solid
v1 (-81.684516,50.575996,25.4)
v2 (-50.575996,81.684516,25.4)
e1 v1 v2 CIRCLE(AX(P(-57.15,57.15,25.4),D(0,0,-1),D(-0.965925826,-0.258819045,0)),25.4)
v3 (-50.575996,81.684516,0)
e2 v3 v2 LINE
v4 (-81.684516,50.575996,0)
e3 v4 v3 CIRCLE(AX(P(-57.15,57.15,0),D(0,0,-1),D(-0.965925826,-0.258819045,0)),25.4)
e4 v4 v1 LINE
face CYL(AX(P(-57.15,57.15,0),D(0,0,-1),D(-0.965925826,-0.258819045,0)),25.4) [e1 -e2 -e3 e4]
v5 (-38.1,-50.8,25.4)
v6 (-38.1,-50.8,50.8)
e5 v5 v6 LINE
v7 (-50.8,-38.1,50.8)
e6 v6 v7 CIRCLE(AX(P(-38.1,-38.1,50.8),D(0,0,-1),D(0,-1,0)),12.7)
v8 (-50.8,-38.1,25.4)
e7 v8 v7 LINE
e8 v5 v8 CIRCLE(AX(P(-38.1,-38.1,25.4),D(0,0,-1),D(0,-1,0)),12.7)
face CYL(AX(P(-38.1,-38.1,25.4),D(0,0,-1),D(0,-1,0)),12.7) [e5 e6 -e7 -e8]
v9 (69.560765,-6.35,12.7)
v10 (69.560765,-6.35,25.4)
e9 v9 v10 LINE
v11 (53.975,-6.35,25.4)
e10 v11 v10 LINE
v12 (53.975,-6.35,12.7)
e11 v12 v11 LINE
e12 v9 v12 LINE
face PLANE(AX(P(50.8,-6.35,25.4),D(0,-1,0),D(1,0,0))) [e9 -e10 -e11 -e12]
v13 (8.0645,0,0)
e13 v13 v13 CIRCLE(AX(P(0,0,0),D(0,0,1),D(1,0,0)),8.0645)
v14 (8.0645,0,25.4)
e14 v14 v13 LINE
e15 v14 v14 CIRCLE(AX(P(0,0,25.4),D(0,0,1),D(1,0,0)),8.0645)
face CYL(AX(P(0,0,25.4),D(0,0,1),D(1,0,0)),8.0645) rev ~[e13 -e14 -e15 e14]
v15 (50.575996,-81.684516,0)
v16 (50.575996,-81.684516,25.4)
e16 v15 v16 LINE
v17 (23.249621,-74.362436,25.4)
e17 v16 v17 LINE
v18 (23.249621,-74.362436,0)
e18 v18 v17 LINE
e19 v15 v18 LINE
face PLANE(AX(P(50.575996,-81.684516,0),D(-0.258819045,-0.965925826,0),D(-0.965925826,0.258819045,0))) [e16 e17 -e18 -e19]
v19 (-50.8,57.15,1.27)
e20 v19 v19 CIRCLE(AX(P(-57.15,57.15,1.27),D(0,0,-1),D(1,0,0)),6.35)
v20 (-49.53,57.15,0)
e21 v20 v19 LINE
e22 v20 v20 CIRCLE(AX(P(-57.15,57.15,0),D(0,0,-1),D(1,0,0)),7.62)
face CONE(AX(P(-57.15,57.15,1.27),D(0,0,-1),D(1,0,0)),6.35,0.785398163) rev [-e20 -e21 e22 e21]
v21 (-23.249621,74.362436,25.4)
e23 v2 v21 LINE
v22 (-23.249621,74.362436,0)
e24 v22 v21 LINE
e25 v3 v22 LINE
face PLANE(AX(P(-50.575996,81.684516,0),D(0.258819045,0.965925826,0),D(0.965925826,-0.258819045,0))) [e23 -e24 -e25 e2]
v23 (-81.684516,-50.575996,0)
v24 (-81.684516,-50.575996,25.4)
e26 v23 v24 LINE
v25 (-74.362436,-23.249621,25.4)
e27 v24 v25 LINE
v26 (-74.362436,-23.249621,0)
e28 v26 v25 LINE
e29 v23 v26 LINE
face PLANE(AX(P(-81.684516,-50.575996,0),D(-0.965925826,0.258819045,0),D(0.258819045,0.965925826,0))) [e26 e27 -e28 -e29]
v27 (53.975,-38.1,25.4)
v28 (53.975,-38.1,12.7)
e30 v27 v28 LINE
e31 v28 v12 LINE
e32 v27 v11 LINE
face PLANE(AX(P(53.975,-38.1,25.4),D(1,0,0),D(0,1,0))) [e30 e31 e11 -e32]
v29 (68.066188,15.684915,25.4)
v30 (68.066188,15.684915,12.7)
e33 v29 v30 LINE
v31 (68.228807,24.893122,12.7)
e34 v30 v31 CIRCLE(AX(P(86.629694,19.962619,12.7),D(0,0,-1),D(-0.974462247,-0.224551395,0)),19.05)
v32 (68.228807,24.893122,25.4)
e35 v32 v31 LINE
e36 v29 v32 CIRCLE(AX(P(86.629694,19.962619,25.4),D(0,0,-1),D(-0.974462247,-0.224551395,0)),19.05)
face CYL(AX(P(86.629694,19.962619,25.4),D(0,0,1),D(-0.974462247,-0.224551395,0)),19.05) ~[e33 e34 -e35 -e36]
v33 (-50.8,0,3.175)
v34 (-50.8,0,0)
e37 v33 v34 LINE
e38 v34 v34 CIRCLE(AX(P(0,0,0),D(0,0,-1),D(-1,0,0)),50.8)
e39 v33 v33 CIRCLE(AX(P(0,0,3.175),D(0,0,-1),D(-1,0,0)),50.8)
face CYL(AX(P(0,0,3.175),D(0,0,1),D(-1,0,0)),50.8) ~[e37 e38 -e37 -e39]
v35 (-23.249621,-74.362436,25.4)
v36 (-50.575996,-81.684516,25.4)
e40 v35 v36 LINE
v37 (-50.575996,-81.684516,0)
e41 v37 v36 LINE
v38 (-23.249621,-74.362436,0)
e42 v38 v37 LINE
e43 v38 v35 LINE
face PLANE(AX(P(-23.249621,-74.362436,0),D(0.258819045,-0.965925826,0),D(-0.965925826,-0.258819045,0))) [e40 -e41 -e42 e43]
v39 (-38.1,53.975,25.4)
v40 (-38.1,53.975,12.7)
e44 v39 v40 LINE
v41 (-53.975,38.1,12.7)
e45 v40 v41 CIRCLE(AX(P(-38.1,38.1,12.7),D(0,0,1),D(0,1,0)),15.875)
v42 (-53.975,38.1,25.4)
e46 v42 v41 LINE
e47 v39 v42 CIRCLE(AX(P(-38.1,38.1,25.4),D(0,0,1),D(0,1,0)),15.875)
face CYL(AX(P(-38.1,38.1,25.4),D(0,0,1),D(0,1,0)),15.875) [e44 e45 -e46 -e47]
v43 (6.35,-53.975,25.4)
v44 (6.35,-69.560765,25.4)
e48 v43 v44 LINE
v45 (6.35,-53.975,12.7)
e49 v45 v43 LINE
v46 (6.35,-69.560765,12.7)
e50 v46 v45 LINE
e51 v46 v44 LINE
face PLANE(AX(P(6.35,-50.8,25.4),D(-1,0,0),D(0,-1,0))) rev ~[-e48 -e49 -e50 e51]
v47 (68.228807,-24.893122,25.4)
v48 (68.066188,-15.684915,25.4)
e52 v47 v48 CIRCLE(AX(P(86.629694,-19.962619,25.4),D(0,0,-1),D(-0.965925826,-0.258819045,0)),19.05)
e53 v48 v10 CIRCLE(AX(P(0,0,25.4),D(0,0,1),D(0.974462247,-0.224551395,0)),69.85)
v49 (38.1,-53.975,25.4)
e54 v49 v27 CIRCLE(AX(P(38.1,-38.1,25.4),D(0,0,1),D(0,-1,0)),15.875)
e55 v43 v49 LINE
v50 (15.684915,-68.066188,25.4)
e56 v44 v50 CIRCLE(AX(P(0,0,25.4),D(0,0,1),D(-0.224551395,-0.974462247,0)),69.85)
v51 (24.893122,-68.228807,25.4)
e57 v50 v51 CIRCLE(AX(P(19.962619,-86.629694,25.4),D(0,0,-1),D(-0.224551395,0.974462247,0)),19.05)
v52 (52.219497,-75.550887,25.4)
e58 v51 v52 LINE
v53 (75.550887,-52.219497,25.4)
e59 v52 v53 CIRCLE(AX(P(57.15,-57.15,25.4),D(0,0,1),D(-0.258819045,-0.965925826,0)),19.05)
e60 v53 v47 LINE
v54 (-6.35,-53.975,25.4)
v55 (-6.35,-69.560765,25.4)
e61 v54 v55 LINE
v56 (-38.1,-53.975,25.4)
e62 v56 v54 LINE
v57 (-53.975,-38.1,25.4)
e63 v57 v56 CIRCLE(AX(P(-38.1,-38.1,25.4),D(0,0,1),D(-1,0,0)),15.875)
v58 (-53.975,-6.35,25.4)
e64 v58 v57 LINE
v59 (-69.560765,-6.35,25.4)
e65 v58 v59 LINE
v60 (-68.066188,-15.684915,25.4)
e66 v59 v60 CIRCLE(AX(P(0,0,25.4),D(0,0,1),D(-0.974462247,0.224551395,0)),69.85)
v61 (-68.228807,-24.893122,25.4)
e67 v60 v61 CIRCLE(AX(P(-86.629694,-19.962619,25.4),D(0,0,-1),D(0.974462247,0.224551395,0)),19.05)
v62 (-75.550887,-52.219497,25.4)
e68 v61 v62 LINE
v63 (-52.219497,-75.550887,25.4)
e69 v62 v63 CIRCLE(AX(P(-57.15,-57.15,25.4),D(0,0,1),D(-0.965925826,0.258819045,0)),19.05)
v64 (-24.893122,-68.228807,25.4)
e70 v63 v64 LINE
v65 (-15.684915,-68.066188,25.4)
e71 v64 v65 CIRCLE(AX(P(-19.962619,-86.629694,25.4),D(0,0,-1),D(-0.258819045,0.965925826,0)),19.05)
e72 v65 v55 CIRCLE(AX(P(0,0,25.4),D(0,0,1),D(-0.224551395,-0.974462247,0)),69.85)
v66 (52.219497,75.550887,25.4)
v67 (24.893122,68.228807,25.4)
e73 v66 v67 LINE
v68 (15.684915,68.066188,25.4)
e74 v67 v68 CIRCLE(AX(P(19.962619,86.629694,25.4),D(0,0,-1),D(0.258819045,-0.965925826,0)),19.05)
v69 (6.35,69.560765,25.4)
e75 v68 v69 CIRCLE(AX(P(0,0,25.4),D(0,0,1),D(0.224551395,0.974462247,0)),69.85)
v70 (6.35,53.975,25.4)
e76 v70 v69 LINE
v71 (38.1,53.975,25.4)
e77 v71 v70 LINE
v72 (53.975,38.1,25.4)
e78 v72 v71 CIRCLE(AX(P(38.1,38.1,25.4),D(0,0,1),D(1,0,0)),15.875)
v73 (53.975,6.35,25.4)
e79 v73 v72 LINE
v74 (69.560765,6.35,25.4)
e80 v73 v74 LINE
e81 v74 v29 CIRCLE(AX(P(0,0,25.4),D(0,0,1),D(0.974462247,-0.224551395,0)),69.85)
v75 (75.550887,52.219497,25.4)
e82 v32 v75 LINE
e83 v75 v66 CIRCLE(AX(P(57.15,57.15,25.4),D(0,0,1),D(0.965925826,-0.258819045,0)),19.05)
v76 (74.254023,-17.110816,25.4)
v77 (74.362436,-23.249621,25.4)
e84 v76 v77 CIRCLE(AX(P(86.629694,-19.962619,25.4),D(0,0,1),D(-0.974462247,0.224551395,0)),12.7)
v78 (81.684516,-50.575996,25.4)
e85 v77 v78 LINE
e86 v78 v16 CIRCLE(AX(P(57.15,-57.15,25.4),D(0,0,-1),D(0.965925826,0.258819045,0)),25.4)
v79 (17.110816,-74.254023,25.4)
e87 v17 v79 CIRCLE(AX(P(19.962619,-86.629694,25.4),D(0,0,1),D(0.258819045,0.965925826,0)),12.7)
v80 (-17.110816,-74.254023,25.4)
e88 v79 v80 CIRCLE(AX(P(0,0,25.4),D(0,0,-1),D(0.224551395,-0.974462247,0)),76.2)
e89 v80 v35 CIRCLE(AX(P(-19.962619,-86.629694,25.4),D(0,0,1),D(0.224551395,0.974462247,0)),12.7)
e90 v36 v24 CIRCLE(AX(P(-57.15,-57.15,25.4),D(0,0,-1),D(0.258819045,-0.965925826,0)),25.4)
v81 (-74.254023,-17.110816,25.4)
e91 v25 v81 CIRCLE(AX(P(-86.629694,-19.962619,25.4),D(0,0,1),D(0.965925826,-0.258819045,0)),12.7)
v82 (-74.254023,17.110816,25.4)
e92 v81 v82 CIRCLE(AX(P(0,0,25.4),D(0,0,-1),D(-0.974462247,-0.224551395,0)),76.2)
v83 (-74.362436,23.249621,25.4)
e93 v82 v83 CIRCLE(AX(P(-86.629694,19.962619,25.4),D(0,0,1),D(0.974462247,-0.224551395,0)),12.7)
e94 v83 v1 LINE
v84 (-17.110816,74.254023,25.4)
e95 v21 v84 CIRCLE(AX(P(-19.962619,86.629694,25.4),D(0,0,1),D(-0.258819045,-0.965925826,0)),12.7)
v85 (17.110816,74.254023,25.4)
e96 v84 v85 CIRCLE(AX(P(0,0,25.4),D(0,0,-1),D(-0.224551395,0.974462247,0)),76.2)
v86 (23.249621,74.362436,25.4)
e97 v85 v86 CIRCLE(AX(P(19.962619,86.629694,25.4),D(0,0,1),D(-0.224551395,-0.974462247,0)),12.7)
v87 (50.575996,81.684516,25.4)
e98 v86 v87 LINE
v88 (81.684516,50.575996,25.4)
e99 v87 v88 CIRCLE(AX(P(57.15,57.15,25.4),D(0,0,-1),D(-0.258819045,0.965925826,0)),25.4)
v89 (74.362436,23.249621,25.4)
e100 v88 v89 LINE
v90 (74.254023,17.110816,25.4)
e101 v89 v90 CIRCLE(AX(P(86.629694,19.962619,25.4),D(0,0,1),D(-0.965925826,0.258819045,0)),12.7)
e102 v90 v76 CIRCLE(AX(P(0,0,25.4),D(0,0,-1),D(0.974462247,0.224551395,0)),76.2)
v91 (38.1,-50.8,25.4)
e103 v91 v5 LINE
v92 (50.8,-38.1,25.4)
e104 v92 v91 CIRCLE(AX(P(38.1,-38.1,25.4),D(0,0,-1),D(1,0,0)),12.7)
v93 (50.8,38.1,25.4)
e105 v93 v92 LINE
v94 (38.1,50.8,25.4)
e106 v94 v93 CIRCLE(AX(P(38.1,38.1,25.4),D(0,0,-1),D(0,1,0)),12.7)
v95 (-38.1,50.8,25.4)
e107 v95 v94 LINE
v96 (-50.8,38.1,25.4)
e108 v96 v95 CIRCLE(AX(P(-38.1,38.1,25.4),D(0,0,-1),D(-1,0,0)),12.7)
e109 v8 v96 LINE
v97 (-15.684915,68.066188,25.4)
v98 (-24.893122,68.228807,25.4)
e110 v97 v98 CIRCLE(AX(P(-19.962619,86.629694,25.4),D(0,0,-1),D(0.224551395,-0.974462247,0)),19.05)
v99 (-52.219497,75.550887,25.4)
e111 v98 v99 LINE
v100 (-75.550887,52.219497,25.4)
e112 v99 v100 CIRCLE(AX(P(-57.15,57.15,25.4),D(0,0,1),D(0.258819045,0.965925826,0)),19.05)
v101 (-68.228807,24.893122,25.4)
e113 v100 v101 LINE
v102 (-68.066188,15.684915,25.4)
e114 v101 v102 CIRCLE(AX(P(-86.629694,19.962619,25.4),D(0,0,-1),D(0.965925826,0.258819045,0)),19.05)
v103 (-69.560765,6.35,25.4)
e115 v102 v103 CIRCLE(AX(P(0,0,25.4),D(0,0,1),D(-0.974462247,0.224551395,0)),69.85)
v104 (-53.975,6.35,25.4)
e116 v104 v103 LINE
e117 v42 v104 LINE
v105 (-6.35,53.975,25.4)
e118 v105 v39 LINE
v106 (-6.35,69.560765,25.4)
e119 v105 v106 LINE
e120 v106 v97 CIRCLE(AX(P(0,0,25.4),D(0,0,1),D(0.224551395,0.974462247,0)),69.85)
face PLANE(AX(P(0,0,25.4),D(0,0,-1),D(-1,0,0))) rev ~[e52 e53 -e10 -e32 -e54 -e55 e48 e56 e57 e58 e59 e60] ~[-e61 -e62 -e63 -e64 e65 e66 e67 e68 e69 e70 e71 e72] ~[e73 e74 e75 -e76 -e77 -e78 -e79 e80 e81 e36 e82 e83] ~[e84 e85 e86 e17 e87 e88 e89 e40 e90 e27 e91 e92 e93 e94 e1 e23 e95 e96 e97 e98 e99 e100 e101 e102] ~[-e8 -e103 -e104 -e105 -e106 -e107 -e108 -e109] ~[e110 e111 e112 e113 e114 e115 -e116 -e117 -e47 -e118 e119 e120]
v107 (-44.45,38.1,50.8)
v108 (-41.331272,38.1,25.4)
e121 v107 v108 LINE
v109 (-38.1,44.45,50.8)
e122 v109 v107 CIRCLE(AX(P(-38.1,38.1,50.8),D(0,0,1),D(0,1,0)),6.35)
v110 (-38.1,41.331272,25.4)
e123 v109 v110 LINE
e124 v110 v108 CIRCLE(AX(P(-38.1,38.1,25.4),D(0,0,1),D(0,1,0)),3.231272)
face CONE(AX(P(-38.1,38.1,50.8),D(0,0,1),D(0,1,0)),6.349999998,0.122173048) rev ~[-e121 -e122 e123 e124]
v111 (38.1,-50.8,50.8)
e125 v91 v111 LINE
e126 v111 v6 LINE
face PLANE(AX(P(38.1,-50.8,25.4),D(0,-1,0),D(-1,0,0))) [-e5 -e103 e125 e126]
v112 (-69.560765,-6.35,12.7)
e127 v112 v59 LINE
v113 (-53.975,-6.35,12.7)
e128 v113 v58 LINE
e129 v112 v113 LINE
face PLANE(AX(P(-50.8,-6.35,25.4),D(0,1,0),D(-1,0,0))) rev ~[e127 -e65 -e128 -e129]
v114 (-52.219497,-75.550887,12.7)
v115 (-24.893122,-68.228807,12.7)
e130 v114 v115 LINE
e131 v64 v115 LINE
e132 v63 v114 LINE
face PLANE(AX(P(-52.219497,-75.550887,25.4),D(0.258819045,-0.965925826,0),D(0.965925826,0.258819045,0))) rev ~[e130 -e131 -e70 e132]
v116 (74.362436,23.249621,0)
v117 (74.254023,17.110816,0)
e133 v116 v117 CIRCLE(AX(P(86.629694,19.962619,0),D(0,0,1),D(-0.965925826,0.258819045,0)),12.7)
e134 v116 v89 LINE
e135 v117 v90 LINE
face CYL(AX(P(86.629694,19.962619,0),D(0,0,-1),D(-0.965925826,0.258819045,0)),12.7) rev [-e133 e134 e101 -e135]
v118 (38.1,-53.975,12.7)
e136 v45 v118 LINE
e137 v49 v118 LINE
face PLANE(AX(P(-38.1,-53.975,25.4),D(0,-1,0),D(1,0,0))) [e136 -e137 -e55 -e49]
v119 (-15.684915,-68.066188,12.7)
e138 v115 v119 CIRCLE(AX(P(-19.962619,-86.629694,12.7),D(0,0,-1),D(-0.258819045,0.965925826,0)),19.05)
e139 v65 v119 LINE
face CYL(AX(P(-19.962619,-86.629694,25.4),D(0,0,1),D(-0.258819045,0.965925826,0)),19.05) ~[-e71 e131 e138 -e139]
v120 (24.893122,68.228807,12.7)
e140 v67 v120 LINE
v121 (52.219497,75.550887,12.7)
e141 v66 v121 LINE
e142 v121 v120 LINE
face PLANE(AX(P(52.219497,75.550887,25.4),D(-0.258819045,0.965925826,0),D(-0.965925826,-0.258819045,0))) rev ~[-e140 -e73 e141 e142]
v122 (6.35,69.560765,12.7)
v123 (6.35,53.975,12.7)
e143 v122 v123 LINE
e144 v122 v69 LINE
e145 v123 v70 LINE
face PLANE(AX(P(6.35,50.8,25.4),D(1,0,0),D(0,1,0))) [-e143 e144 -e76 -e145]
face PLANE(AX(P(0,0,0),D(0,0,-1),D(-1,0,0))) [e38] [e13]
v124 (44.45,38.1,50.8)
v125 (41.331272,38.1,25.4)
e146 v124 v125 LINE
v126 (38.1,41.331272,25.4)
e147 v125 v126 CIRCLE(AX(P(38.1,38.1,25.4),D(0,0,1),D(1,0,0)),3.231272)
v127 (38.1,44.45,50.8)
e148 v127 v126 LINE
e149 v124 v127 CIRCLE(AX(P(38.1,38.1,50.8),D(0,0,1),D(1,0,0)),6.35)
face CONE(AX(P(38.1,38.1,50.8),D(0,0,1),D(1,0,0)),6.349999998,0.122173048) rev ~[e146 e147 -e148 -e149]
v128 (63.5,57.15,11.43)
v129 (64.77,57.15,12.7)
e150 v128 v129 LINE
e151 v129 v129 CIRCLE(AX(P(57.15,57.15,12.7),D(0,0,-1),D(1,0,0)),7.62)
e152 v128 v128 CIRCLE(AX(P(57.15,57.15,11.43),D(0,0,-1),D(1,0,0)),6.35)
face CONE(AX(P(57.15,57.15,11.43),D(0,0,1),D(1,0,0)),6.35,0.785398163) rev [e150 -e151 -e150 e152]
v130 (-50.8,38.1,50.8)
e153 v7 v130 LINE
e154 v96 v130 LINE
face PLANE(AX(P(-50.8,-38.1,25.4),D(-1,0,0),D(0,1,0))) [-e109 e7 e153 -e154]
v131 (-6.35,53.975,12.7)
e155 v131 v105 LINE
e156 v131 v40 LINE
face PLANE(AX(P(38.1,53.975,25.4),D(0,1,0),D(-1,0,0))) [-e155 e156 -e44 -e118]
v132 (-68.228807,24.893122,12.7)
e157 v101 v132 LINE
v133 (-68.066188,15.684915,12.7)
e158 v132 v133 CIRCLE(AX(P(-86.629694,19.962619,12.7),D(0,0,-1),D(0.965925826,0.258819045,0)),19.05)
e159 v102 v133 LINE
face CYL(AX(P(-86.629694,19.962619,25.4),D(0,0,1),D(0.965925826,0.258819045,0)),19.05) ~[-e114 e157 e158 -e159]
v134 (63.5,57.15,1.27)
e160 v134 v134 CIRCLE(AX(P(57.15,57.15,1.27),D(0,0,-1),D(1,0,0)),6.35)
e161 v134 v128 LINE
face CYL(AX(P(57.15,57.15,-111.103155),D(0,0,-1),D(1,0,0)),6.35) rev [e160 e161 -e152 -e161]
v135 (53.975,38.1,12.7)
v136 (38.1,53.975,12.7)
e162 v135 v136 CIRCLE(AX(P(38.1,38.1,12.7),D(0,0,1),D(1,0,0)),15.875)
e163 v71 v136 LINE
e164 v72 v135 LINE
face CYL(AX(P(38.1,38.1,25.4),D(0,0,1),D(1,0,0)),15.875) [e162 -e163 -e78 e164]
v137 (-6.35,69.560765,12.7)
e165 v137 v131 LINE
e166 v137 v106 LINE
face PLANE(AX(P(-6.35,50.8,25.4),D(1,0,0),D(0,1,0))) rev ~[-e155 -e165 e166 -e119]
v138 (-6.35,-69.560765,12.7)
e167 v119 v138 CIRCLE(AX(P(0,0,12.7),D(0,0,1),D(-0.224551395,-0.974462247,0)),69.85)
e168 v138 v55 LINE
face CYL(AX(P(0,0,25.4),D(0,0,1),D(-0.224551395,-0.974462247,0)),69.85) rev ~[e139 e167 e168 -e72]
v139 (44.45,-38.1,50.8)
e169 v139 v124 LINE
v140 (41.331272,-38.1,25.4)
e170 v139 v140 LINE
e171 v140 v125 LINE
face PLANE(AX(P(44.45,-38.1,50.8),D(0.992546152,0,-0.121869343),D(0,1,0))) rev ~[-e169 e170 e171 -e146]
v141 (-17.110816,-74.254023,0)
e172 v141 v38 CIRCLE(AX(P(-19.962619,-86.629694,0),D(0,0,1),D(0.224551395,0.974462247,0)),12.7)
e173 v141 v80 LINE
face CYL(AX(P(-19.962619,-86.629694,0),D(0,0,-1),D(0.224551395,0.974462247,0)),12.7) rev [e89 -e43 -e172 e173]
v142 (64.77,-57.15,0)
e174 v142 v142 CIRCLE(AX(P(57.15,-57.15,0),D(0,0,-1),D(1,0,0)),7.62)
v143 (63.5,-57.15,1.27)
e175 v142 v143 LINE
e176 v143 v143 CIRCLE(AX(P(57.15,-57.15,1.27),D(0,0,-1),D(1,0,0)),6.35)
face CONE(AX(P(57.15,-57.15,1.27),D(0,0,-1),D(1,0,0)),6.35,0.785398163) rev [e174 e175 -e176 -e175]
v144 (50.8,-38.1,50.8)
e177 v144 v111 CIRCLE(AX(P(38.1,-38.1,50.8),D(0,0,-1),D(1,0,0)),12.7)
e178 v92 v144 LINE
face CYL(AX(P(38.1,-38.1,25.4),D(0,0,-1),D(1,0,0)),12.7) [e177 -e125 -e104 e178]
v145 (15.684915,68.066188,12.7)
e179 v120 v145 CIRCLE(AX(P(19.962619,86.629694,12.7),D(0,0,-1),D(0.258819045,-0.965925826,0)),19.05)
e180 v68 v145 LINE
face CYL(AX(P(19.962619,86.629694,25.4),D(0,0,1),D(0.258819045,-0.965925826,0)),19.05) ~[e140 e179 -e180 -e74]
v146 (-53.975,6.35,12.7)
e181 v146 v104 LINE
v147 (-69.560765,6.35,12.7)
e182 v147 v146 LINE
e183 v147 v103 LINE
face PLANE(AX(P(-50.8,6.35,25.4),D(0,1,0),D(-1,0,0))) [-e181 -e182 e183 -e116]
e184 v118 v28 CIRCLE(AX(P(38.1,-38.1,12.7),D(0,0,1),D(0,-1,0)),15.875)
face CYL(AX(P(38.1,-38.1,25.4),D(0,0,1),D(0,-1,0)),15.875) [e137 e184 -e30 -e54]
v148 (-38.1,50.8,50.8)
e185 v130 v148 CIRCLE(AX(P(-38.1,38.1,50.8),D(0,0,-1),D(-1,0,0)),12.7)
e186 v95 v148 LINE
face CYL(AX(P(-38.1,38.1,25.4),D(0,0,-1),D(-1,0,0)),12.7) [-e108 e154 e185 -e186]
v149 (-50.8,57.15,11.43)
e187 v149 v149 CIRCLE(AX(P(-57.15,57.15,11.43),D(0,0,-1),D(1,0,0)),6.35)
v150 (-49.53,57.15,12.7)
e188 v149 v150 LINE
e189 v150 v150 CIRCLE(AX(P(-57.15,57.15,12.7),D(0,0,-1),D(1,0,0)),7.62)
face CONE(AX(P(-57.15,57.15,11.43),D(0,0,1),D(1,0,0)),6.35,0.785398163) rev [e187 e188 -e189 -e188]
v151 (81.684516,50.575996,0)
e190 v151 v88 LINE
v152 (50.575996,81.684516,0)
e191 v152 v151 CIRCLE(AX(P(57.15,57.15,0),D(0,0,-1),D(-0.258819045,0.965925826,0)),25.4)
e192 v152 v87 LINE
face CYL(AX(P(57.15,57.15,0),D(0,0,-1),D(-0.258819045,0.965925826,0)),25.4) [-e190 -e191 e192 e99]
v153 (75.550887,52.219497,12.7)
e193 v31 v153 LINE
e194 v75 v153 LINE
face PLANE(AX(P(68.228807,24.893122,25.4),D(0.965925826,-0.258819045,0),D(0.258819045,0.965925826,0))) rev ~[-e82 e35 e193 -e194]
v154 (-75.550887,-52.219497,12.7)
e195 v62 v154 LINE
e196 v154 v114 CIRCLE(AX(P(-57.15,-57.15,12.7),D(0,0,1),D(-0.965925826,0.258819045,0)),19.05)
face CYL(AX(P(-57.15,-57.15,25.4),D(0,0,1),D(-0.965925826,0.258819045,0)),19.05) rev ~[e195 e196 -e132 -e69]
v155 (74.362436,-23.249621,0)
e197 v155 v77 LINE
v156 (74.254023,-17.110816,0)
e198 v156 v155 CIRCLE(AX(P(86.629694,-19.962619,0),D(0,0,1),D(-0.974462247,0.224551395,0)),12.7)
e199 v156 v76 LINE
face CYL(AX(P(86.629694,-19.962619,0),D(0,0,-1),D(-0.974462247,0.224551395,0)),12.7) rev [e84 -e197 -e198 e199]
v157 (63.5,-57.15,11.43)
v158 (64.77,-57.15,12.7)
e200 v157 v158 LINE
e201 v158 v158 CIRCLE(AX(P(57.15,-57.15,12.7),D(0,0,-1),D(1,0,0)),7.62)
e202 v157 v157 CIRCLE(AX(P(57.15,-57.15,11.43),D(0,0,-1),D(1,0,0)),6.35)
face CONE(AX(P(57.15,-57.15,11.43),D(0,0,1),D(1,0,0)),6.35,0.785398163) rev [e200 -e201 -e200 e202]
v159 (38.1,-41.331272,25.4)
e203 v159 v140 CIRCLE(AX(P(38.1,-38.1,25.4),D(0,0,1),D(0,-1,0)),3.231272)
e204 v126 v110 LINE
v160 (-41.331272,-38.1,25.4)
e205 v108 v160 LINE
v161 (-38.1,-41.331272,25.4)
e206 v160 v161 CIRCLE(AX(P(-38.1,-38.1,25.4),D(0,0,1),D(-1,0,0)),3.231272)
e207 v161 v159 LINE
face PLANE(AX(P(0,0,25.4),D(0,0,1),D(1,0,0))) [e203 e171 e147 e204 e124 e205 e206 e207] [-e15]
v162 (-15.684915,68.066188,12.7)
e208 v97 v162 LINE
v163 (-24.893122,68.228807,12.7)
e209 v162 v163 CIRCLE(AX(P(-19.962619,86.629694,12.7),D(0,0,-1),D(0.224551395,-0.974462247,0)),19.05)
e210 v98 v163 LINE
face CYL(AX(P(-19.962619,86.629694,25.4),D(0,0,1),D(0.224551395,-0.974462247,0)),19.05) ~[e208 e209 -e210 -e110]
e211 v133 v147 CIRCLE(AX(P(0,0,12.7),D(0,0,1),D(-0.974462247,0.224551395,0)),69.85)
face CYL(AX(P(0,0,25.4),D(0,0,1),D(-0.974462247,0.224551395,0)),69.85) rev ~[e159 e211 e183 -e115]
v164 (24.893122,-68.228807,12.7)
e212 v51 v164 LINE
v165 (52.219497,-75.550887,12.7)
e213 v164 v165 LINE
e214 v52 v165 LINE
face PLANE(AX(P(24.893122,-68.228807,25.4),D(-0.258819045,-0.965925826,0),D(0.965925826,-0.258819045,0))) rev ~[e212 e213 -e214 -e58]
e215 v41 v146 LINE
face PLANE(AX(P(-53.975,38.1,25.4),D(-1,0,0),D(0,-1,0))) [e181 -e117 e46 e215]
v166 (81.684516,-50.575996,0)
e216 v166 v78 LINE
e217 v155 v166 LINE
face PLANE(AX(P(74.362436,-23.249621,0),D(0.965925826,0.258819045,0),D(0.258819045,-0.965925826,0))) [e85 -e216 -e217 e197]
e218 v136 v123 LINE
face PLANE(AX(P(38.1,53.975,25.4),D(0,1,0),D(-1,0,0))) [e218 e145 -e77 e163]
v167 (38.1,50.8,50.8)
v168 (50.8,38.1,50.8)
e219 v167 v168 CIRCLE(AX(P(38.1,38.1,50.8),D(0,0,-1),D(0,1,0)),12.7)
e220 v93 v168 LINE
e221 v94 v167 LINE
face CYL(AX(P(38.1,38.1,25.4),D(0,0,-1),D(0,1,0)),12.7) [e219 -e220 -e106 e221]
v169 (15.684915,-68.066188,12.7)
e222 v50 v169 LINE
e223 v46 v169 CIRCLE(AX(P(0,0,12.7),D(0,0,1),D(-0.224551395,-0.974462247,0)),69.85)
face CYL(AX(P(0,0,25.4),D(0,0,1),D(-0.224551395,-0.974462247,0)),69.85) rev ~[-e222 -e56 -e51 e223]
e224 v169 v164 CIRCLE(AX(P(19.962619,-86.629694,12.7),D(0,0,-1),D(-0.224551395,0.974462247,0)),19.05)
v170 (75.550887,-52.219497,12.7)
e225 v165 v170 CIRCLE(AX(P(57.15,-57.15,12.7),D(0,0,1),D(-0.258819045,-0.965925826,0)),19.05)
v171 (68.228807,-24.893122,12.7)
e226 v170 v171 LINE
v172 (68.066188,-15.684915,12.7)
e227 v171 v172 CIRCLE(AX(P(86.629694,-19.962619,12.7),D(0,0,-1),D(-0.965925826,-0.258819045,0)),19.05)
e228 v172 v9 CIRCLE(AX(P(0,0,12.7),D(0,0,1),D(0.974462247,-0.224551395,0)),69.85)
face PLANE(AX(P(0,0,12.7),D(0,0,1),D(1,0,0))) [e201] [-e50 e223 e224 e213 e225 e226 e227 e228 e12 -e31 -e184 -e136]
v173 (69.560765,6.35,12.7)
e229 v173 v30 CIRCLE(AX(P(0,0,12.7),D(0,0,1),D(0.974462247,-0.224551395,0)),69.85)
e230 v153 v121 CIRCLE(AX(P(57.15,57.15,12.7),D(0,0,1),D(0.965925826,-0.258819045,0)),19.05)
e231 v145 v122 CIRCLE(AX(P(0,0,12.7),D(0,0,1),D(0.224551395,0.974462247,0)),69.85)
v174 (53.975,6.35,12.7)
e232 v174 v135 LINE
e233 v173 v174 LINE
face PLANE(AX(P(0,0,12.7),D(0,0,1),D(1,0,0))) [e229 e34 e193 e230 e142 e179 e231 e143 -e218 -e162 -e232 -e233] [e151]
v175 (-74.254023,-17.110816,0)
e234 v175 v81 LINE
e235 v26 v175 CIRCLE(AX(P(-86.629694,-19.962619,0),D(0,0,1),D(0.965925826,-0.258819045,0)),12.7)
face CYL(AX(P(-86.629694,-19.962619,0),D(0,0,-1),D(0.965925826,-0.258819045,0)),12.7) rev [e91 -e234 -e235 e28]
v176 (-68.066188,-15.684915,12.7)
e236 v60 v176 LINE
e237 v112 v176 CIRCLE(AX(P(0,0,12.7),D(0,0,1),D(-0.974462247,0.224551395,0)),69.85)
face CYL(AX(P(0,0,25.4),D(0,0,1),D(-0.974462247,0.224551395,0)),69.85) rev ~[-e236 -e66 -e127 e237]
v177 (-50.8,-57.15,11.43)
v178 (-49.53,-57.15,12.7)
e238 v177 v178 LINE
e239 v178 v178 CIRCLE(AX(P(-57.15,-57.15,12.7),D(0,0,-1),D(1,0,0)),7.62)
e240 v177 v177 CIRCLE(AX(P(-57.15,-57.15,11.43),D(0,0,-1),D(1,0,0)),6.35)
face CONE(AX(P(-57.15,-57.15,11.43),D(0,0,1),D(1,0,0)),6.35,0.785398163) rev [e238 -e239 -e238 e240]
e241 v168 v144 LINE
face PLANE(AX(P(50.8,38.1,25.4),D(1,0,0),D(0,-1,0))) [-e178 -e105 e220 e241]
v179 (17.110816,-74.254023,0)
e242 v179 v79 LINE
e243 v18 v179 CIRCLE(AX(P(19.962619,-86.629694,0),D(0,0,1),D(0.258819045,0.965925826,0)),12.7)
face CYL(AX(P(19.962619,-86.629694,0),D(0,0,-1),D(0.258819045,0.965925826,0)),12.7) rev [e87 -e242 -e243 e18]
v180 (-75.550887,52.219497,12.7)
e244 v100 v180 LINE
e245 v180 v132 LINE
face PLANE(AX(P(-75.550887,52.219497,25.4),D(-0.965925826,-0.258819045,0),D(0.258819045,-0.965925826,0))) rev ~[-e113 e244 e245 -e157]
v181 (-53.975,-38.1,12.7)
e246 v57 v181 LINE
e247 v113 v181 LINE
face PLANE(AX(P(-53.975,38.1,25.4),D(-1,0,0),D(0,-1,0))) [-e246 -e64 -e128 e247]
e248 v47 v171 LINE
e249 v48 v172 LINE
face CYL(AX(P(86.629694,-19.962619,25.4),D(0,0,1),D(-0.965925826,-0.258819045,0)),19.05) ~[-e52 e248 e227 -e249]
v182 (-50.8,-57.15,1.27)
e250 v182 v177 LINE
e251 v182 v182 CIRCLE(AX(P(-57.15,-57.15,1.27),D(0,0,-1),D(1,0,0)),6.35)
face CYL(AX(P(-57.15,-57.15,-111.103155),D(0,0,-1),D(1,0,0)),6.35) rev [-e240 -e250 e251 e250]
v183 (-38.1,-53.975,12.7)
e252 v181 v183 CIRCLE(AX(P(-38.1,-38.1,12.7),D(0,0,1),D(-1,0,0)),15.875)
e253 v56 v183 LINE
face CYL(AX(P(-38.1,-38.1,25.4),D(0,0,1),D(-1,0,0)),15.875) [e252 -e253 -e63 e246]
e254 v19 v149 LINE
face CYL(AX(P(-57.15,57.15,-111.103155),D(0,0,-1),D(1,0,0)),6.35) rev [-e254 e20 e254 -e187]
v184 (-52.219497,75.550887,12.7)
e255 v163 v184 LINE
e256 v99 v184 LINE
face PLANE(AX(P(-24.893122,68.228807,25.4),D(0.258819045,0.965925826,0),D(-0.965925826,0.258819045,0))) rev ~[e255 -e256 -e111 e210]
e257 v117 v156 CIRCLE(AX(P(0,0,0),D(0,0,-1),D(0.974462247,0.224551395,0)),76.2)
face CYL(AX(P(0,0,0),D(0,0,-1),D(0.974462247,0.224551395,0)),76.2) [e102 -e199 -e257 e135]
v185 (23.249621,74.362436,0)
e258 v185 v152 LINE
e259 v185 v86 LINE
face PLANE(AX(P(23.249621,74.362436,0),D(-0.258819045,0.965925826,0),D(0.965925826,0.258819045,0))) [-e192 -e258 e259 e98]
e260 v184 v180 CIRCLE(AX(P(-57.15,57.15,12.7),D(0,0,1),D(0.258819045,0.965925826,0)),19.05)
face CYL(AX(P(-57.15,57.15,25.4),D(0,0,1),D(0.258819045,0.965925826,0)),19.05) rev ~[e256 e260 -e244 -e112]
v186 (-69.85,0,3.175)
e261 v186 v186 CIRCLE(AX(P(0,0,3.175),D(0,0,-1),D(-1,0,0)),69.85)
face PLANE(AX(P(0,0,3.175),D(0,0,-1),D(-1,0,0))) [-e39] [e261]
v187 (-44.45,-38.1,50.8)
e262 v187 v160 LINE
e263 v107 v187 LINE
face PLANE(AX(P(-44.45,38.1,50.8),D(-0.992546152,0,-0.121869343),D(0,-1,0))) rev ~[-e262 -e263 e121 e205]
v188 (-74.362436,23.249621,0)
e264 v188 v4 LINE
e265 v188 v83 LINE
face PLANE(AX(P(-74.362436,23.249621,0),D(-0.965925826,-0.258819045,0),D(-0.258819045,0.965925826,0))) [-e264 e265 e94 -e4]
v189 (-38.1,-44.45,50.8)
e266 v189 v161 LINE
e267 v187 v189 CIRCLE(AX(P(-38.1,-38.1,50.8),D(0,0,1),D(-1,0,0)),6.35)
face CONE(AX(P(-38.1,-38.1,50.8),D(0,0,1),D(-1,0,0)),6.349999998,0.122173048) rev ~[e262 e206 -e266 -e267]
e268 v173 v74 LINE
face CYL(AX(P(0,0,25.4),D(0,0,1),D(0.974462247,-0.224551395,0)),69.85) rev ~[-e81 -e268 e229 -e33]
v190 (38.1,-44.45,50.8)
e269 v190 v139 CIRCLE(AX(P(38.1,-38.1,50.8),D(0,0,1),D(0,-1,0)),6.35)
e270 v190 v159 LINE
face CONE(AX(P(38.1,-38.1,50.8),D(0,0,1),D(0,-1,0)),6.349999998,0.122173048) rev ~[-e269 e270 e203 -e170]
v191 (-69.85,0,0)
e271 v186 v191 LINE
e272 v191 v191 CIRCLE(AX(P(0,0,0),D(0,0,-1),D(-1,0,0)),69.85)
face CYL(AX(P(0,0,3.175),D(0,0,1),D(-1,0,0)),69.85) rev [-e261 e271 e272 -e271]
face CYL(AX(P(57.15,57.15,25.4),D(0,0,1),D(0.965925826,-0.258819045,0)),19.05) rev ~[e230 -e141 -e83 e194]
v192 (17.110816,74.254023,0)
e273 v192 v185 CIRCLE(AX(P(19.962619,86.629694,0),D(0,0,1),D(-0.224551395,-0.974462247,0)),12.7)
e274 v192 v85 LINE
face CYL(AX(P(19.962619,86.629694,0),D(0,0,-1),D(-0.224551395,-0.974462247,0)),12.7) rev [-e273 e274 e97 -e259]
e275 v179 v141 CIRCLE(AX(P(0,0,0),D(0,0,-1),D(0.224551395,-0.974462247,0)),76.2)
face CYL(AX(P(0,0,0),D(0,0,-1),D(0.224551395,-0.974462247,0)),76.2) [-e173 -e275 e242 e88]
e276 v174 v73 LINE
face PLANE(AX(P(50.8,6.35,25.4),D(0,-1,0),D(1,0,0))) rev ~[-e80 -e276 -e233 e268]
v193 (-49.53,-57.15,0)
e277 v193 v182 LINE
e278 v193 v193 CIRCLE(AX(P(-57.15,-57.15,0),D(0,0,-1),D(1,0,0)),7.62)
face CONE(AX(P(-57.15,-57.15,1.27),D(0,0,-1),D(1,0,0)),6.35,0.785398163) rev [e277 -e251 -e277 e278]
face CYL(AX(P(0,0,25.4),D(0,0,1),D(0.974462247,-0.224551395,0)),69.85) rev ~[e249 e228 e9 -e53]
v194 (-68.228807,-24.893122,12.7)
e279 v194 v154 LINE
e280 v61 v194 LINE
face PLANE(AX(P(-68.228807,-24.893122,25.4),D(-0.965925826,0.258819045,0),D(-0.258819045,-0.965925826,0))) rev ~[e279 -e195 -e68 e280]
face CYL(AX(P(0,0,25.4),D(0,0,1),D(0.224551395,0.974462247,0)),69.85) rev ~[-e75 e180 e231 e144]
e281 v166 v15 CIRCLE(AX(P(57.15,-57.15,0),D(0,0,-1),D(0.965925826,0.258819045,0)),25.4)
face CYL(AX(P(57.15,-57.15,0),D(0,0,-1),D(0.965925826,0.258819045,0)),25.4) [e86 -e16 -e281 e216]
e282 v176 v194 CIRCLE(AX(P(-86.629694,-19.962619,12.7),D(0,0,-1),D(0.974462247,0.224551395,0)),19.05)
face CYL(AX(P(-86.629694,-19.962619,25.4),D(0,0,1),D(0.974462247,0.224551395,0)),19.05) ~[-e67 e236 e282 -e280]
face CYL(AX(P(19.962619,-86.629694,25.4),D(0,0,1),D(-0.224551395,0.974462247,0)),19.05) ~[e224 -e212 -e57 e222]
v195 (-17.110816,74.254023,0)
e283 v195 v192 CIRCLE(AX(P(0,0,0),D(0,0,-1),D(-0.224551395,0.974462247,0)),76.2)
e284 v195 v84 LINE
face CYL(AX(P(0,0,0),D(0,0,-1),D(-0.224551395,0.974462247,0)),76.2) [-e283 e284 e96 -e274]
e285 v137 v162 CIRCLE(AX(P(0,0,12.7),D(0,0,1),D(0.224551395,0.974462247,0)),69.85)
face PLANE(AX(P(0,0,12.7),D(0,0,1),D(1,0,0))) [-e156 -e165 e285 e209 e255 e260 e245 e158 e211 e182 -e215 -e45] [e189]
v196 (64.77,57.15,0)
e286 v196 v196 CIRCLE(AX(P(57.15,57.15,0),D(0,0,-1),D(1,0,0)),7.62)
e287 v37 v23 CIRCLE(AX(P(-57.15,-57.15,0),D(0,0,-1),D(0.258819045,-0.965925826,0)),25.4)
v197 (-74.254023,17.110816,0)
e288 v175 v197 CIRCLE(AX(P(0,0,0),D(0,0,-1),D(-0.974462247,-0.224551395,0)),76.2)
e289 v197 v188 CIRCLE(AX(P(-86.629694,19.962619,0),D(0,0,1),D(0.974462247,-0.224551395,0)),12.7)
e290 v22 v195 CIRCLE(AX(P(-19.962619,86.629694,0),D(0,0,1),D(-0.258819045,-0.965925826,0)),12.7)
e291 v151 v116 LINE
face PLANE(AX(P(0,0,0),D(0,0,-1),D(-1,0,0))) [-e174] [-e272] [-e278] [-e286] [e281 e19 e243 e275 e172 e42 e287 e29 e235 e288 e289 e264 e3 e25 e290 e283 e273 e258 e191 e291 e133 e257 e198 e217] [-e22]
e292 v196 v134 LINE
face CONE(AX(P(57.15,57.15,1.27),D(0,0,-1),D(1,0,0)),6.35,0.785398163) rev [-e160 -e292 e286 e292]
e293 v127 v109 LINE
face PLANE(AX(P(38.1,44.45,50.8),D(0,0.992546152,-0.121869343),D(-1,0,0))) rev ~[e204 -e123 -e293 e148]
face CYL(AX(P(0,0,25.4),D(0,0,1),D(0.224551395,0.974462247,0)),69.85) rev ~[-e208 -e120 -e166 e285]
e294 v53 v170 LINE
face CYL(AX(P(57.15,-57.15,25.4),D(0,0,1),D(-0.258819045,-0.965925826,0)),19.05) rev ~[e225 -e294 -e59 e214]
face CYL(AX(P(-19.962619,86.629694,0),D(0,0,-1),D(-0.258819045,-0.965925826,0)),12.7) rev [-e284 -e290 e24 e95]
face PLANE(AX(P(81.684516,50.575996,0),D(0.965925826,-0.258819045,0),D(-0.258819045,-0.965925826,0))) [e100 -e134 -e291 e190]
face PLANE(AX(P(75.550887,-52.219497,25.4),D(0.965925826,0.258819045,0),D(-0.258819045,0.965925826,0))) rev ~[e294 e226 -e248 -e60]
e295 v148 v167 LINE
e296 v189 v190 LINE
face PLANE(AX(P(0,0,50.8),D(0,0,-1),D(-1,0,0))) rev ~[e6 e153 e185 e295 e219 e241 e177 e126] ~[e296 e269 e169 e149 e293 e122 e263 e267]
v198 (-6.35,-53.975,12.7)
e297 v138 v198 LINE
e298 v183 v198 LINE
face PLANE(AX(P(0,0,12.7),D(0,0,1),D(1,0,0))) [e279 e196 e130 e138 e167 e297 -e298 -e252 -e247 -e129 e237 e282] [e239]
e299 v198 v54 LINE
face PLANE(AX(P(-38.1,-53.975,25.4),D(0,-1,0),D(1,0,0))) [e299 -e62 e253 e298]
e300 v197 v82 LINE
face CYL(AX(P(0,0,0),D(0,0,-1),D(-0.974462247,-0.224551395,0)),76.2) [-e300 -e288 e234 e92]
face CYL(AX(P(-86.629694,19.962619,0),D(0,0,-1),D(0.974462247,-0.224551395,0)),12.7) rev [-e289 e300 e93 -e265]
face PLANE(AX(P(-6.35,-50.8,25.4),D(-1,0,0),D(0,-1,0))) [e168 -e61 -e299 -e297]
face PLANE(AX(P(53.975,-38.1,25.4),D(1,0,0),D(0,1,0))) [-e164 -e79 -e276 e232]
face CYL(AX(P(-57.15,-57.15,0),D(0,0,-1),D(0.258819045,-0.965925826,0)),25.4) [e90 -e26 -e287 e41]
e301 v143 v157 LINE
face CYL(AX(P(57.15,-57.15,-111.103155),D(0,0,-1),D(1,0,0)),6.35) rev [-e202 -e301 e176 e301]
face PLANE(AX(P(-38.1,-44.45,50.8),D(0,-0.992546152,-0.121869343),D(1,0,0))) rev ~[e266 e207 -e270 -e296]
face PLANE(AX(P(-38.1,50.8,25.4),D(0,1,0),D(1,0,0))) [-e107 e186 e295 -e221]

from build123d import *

# Parameters (mm, degrees)
BASE_EXTRUDE_DEPTH      = 25.4
BOSS_EXTRUDE1_DEPTH     = 25.4
CUT_EXTRUDE1_DEPTH      = 25.4
CUT_EXTRUDE1_DRAFT      = -7
CUT_EXTRUDE3_DEPTH      = 12.7
BOSS_EXTRUDE2_REACH     = 121.475
SKETCH6_W               = 25.134955719
SKETCH6_H               = 12.7
CIRPATTERN1_COUNT       = 4
CUT_EXTRUDE4_DEPTH      = 12.7
CUT_EXTRUDE4_DEPTH_BACK = 123.803155497
SKETCH7_R               = 6.35
CHAMFER1_SIZE           = 1.27
CUT_EXTRUDE5_START      = -3.175
SKETCH17_R              = 69.85
SKETCH17_R_2            = 50.8
CUT_EXTRUDE5_DEPTH      = 3.175
SKETCH28_R              = 8.0645
CUT_EXTRUDE6_DEPTH      = 120.474537036


with BuildPart() as part:
    # Sketch1 → Base-Extrude (new body)
    with BuildSketch(Plane.XY):
        with BuildLine():
            Line((-50.575996254, 81.684515988), (-23.24962088, 74.362435774))
            ThreePointArc((-23.24962088, 74.362435774), (-20.186868638, 73.931673761), (-17.110816292, 74.25402323))
            ThreePointArc((-17.110816292, 74.25402323), (0, 76.2), (17.110816292, 74.25402323))
            ThreePointArc((17.110816292, 74.25402323), (20.186868638, 73.931673761), (23.24962088, 74.362435774))
            Line((23.24962088, 74.362435774), (50.575996254, 81.684515988))
            ThreePointArc((50.575996254, 81.684515988), (75.110512242, 75.110512242), (81.684515988, 50.575996254))
            Line((81.684515988, 50.575996254), (74.362435774, 23.24962088))
            ThreePointArc((74.362435774, 23.24962088), (73.931673761, 20.186868638), (74.25402323, 17.110816292))
            ThreePointArc((74.25402323, 17.110816292), (76.2, 0), (74.25402323, -17.110816292))
            ThreePointArc((74.25402323, -17.110816292), (73.931673761, -20.186868638), (74.362435774, -23.24962088))
            Line((74.362435774, -23.24962088), (81.684515988, -50.575996254))
            ThreePointArc((81.684515988, -50.575996254), (75.110512242, -75.110512242), (50.575996254, -81.684515988))
            Line((50.575996254, -81.684515988), (23.24962088, -74.362435774))
            ThreePointArc((23.24962088, -74.362435774), (20.186868638, -73.931673761), (17.110816292, -74.25402323))
            ThreePointArc((17.110816292, -74.25402323), (0, -76.2), (-17.110816292, -74.25402323))
            ThreePointArc((-17.110816292, -74.25402323), (-20.186868638, -73.931673761), (-23.24962088, -74.362435774))
            Line((-23.24962088, -74.362435774), (-50.575996254, -81.684515988))
            ThreePointArc((-50.575996254, -81.684515988), (-75.110512242, -75.110512242), (-81.684515988, -50.575996254))
            Line((-81.684515988, -50.575996254), (-74.362435774, -23.24962088))
            ThreePointArc((-74.362435774, -23.24962088), (-73.931673761, -20.186868638), (-74.25402323, -17.110816292))
            ThreePointArc((-74.25402323, -17.110816292), (-76.2, 0), (-74.25402323, 17.110816292))
            ThreePointArc((-74.25402323, 17.110816292), (-73.931673761, 20.186868638), (-74.362435774, 23.24962088))
            Line((-74.362435774, 23.24962088), (-81.684515988, 50.575996254))
            ThreePointArc((-81.684515988, 50.575996254), (-75.110512242, 75.110512242), (-50.575996254, 81.684515988))
        make_face()
    extrude(amount=BASE_EXTRUDE_DEPTH)

    # Sketch2 → Boss-Extrude1 (add)
    with BuildSketch(Plane.XY.offset(25.4)):
        with BuildLine():
            Line((-38.1, 50.8), (38.1, 50.8))
            ThreePointArc((38.1, 50.8), (47.080256121, 47.080256121), (50.8, 38.1))
            Line((50.8, 38.1), (50.8, -38.1))
            ThreePointArc((50.8, -38.1), (47.080256121, -47.080256121), (38.1, -50.8))
            Line((38.1, -50.8), (-38.1, -50.8))
            ThreePointArc((-38.1, -50.8), (-47.080256121, -47.080256121), (-50.8, -38.1))
            Line((-50.8, -38.1), (-50.8, 38.1))
            ThreePointArc((-50.8, 38.1), (-47.080256121, 47.080256121), (-38.1, 50.8))
        make_face()
    extrude(amount=BOSS_EXTRUDE1_DEPTH)


with BuildPart() as cut_extrude1_tool:
    # Sketch3 → Cut-Extrude1 (with draft: the straight prism first)
    with BuildSketch(Plane.XY.offset(50.8)):
        with BuildLine():
            Line((-44.45, 38.1), (-44.45, -38.1))
            ThreePointArc((-44.45, -38.1), (-42.590128061, -42.590128061), (-38.1, -44.45))
            Line((-38.1, -44.45), (38.1, -44.45))
            ThreePointArc((38.1, -44.45), (42.590128061, -42.590128061), (44.45, -38.1))
            Line((44.45, -38.1), (44.45, 38.1))
            ThreePointArc((44.45, 38.1), (42.590128061, 42.590128061), (38.1, 44.45))
            Line((38.1, 44.45), (-38.1, 44.45))
            ThreePointArc((-38.1, 44.45), (-42.590128061, 42.590128061), (-44.45, 38.1))
        make_face()
    extrude(amount=-CUT_EXTRUDE1_DEPTH)
    # Cut-Extrude1: the draft: its side faces are tilted about the plane it starts from
    cut_extrude1_sides = [cut_extrude1_tool.faces().sort_by_distance(p)[0] for p in [
        (-42.590128061, 42.590128061, 38.1),
        (-44.45, 0, 38.1),
        (-42.590128061, -42.590128061, 38.1),
        (0, -44.45, 38.1),
        (42.590128061, -42.590128061, 38.1),
        (44.45, 0, 38.1),
        (42.590128061, 42.590128061, 38.1),
        (0, 44.45, 38.1),
    ]]
    draft(cut_extrude1_sides, Plane.XY.offset(50.8), CUT_EXTRUDE1_DRAFT)


with BuildPart() as part_1:
    add(part.part)

    # Cut-Extrude1: cut by cut_extrude1_tool
    add(cut_extrude1_tool.part, mode=Mode.SUBTRACT)

    # Sketch5 → Cut-Extrude3 (cut)
    with BuildSketch(Plane.XY.offset(25.4)):
        with BuildLine():
            Line((-75.550886991, 52.219497191), (-68.228806777, 24.893121817))
            ThreePointArc((-68.228806777, 24.893121817), (-67.582663757, 20.298993453), (-68.066187961, 15.684914935))
            ThreePointArc((-68.066187961, 15.684914935), (-69.85, 0), (-68.066187961, -15.684914935))
            ThreePointArc((-68.066187961, -15.684914935), (-67.582663757, -20.298993453), (-68.228806777, -24.893121817))
            Line((-68.228806777, -24.893121817), (-75.550886991, -52.219497191))
            ThreePointArc((-75.550886991, -52.219497191), (-70.620384182, -70.620384182), (-52.219497191, -75.550886991))
            Line((-52.219497191, -75.550886991), (-24.893121817, -68.228806777))
            ThreePointArc((-24.893121817, -68.228806777), (-20.298993453, -67.582663757), (-15.684914935, -68.066187961))
            ThreePointArc((-15.684914935, -68.066187961), (0, -69.85), (15.684914935, -68.066187961))
            ThreePointArc((15.684914935, -68.066187961), (20.298993453, -67.582663757), (24.893121817, -68.228806777))
            Line((24.893121817, -68.228806777), (52.219497191, -75.550886991))
            ThreePointArc((52.219497191, -75.550886991), (70.620384182, -70.620384182), (75.550886991, -52.219497191))
            Line((75.550886991, -52.219497191), (68.228806777, -24.893121817))
            ThreePointArc((68.228806777, -24.893121817), (67.582663757, -20.298993453), (68.066187961, -15.684914935))
            ThreePointArc((68.066187961, -15.684914935), (69.85, 0), (68.066187961, 15.684914935))
            ThreePointArc((68.066187961, 15.684914935), (67.582663757, 20.298993453), (68.228806777, 24.893121817))
            Line((68.228806777, 24.893121817), (75.550886991, 52.219497191))
            ThreePointArc((75.550886991, 52.219497191), (70.620384182, 70.620384182), (52.219497191, 75.550886991))
            Line((52.219497191, 75.550886991), (24.893121817, 68.228806777))
            ThreePointArc((24.893121817, 68.228806777), (20.298993453, 67.582663757), (15.684914935, 68.066187961))
            ThreePointArc((15.684914935, 68.066187961), (0, 69.85), (-15.684914935, 68.066187961))
            ThreePointArc((-15.684914935, 68.066187961), (-20.298993453, 67.582663757), (-24.893121817, 68.228806777))
            Line((-24.893121817, 68.228806777), (-52.219497191, 75.550886991))
            ThreePointArc((-52.219497191, 75.550886991), (-70.620384182, 70.620384182), (-75.550886991, 52.219497191))
        make_face()
        with BuildLine():
            Line((-53.975, 38.1), (-53.975, -38.1))
            ThreePointArc((-53.975, -38.1), (-49.325320151, -49.325320151), (-38.1, -53.975))
            Line((-38.1, -53.975), (38.1, -53.975))
            ThreePointArc((38.1, -53.975), (49.325320151, -49.325320151), (53.975, -38.1))
            Line((53.975, -38.1), (53.975, 38.1))
            ThreePointArc((53.975, 38.1), (49.325320151, 49.325320151), (38.1, 53.975))
            Line((38.1, 53.975), (-38.1, 53.975))
            ThreePointArc((-38.1, 53.975), (-49.325320151, 49.325320151), (-53.975, 38.1))
        make_face(mode=Mode.SUBTRACT)
    extrude(amount=-CUT_EXTRUDE3_DEPTH, mode=Mode.SUBTRACT)

    # Sketch6 → Boss-Extrude2 (add, up to next)
    with BuildSketch(Plane.XY.offset(25.4), mode=Mode.PRIVATE) as boss_extrude2_sk1:
        with Locations((63.367477859, 0)):
            Rectangle(SKETCH6_W, SKETCH6_H)
    boss_extrude2_tool1 = extrude(boss_extrude2_sk1.sketch, amount=-BOSS_EXTRUDE2_REACH, mode=Mode.PRIVATE) - part_1.part
    boss_extrude2 = boss_extrude2_tool1.solids().sort_by_distance((63.367478, 0, 25.4))[0]
    add(boss_extrude2)

    # CirPattern1: Boss-Extrude2 ×4 about axis
    cirpattern1_axis = Axis((0, 0, -50), (0, 0, 1))
    for i in range(1, CIRPATTERN1_COUNT):
        add(boss_extrude2.rotate(cirpattern1_axis, i * 360 / CIRPATTERN1_COUNT))

    # Sketch7 → Cut-Extrude4 (cut, two sides: drawn at the far end of the back side and taken through both)
    with BuildSketch(Plane.XY.offset(12.7).offset(-CUT_EXTRUDE4_DEPTH_BACK)):
        with Locations((57.15, 57.15)):
            Circle(SKETCH7_R)
        with Locations((-57.15, 57.15)):
            Circle(SKETCH7_R)
        with Locations((-57.15, -57.15)):
            Circle(SKETCH7_R)
        with Locations((57.15, -57.15)):
            Circle(SKETCH7_R)
    extrude(amount=CUT_EXTRUDE4_DEPTH + CUT_EXTRUDE4_DEPTH_BACK, mode=Mode.SUBTRACT)

    # Chamfer1
    chamfer1_edges = [part_1.edges().sort_by_distance(p)[0] for p in [
        (50.8, -57.15, 0),
        (-63.5, -57.15, 0),
        (50.8, 57.15, 0),
        (-63.5, 57.15, 0),
        (50.8, -57.15, 12.7),
        (-63.5, -57.15, 12.7),
        (50.8, 57.15, 12.7),
        (-63.5, 57.15, 12.7),
    ]]
    chamfer(chamfer1_edges, length=CHAMFER1_SIZE)

    # Sketch17 → Cut-Extrude5 (cut)
    with BuildSketch(Plane(origin=(0, 0, 0), x_dir=(-1, 0, 0), z_dir=(0, 0, -1)).offset(CUT_EXTRUDE5_START)):
        Circle(SKETCH17_R)
        Circle(SKETCH17_R_2, mode=Mode.SUBTRACT)
    extrude(amount=CUT_EXTRUDE5_DEPTH, mode=Mode.SUBTRACT)

    # Sketch28 → Cut-Extrude6 (cut, through all)
    with BuildSketch(Plane.XY.offset(25.4)):
        Circle(SKETCH28_R)
    extrude(amount=-CUT_EXTRUDE6_DEPTH, mode=Mode.SUBTRACT)


solid = part_1.part
